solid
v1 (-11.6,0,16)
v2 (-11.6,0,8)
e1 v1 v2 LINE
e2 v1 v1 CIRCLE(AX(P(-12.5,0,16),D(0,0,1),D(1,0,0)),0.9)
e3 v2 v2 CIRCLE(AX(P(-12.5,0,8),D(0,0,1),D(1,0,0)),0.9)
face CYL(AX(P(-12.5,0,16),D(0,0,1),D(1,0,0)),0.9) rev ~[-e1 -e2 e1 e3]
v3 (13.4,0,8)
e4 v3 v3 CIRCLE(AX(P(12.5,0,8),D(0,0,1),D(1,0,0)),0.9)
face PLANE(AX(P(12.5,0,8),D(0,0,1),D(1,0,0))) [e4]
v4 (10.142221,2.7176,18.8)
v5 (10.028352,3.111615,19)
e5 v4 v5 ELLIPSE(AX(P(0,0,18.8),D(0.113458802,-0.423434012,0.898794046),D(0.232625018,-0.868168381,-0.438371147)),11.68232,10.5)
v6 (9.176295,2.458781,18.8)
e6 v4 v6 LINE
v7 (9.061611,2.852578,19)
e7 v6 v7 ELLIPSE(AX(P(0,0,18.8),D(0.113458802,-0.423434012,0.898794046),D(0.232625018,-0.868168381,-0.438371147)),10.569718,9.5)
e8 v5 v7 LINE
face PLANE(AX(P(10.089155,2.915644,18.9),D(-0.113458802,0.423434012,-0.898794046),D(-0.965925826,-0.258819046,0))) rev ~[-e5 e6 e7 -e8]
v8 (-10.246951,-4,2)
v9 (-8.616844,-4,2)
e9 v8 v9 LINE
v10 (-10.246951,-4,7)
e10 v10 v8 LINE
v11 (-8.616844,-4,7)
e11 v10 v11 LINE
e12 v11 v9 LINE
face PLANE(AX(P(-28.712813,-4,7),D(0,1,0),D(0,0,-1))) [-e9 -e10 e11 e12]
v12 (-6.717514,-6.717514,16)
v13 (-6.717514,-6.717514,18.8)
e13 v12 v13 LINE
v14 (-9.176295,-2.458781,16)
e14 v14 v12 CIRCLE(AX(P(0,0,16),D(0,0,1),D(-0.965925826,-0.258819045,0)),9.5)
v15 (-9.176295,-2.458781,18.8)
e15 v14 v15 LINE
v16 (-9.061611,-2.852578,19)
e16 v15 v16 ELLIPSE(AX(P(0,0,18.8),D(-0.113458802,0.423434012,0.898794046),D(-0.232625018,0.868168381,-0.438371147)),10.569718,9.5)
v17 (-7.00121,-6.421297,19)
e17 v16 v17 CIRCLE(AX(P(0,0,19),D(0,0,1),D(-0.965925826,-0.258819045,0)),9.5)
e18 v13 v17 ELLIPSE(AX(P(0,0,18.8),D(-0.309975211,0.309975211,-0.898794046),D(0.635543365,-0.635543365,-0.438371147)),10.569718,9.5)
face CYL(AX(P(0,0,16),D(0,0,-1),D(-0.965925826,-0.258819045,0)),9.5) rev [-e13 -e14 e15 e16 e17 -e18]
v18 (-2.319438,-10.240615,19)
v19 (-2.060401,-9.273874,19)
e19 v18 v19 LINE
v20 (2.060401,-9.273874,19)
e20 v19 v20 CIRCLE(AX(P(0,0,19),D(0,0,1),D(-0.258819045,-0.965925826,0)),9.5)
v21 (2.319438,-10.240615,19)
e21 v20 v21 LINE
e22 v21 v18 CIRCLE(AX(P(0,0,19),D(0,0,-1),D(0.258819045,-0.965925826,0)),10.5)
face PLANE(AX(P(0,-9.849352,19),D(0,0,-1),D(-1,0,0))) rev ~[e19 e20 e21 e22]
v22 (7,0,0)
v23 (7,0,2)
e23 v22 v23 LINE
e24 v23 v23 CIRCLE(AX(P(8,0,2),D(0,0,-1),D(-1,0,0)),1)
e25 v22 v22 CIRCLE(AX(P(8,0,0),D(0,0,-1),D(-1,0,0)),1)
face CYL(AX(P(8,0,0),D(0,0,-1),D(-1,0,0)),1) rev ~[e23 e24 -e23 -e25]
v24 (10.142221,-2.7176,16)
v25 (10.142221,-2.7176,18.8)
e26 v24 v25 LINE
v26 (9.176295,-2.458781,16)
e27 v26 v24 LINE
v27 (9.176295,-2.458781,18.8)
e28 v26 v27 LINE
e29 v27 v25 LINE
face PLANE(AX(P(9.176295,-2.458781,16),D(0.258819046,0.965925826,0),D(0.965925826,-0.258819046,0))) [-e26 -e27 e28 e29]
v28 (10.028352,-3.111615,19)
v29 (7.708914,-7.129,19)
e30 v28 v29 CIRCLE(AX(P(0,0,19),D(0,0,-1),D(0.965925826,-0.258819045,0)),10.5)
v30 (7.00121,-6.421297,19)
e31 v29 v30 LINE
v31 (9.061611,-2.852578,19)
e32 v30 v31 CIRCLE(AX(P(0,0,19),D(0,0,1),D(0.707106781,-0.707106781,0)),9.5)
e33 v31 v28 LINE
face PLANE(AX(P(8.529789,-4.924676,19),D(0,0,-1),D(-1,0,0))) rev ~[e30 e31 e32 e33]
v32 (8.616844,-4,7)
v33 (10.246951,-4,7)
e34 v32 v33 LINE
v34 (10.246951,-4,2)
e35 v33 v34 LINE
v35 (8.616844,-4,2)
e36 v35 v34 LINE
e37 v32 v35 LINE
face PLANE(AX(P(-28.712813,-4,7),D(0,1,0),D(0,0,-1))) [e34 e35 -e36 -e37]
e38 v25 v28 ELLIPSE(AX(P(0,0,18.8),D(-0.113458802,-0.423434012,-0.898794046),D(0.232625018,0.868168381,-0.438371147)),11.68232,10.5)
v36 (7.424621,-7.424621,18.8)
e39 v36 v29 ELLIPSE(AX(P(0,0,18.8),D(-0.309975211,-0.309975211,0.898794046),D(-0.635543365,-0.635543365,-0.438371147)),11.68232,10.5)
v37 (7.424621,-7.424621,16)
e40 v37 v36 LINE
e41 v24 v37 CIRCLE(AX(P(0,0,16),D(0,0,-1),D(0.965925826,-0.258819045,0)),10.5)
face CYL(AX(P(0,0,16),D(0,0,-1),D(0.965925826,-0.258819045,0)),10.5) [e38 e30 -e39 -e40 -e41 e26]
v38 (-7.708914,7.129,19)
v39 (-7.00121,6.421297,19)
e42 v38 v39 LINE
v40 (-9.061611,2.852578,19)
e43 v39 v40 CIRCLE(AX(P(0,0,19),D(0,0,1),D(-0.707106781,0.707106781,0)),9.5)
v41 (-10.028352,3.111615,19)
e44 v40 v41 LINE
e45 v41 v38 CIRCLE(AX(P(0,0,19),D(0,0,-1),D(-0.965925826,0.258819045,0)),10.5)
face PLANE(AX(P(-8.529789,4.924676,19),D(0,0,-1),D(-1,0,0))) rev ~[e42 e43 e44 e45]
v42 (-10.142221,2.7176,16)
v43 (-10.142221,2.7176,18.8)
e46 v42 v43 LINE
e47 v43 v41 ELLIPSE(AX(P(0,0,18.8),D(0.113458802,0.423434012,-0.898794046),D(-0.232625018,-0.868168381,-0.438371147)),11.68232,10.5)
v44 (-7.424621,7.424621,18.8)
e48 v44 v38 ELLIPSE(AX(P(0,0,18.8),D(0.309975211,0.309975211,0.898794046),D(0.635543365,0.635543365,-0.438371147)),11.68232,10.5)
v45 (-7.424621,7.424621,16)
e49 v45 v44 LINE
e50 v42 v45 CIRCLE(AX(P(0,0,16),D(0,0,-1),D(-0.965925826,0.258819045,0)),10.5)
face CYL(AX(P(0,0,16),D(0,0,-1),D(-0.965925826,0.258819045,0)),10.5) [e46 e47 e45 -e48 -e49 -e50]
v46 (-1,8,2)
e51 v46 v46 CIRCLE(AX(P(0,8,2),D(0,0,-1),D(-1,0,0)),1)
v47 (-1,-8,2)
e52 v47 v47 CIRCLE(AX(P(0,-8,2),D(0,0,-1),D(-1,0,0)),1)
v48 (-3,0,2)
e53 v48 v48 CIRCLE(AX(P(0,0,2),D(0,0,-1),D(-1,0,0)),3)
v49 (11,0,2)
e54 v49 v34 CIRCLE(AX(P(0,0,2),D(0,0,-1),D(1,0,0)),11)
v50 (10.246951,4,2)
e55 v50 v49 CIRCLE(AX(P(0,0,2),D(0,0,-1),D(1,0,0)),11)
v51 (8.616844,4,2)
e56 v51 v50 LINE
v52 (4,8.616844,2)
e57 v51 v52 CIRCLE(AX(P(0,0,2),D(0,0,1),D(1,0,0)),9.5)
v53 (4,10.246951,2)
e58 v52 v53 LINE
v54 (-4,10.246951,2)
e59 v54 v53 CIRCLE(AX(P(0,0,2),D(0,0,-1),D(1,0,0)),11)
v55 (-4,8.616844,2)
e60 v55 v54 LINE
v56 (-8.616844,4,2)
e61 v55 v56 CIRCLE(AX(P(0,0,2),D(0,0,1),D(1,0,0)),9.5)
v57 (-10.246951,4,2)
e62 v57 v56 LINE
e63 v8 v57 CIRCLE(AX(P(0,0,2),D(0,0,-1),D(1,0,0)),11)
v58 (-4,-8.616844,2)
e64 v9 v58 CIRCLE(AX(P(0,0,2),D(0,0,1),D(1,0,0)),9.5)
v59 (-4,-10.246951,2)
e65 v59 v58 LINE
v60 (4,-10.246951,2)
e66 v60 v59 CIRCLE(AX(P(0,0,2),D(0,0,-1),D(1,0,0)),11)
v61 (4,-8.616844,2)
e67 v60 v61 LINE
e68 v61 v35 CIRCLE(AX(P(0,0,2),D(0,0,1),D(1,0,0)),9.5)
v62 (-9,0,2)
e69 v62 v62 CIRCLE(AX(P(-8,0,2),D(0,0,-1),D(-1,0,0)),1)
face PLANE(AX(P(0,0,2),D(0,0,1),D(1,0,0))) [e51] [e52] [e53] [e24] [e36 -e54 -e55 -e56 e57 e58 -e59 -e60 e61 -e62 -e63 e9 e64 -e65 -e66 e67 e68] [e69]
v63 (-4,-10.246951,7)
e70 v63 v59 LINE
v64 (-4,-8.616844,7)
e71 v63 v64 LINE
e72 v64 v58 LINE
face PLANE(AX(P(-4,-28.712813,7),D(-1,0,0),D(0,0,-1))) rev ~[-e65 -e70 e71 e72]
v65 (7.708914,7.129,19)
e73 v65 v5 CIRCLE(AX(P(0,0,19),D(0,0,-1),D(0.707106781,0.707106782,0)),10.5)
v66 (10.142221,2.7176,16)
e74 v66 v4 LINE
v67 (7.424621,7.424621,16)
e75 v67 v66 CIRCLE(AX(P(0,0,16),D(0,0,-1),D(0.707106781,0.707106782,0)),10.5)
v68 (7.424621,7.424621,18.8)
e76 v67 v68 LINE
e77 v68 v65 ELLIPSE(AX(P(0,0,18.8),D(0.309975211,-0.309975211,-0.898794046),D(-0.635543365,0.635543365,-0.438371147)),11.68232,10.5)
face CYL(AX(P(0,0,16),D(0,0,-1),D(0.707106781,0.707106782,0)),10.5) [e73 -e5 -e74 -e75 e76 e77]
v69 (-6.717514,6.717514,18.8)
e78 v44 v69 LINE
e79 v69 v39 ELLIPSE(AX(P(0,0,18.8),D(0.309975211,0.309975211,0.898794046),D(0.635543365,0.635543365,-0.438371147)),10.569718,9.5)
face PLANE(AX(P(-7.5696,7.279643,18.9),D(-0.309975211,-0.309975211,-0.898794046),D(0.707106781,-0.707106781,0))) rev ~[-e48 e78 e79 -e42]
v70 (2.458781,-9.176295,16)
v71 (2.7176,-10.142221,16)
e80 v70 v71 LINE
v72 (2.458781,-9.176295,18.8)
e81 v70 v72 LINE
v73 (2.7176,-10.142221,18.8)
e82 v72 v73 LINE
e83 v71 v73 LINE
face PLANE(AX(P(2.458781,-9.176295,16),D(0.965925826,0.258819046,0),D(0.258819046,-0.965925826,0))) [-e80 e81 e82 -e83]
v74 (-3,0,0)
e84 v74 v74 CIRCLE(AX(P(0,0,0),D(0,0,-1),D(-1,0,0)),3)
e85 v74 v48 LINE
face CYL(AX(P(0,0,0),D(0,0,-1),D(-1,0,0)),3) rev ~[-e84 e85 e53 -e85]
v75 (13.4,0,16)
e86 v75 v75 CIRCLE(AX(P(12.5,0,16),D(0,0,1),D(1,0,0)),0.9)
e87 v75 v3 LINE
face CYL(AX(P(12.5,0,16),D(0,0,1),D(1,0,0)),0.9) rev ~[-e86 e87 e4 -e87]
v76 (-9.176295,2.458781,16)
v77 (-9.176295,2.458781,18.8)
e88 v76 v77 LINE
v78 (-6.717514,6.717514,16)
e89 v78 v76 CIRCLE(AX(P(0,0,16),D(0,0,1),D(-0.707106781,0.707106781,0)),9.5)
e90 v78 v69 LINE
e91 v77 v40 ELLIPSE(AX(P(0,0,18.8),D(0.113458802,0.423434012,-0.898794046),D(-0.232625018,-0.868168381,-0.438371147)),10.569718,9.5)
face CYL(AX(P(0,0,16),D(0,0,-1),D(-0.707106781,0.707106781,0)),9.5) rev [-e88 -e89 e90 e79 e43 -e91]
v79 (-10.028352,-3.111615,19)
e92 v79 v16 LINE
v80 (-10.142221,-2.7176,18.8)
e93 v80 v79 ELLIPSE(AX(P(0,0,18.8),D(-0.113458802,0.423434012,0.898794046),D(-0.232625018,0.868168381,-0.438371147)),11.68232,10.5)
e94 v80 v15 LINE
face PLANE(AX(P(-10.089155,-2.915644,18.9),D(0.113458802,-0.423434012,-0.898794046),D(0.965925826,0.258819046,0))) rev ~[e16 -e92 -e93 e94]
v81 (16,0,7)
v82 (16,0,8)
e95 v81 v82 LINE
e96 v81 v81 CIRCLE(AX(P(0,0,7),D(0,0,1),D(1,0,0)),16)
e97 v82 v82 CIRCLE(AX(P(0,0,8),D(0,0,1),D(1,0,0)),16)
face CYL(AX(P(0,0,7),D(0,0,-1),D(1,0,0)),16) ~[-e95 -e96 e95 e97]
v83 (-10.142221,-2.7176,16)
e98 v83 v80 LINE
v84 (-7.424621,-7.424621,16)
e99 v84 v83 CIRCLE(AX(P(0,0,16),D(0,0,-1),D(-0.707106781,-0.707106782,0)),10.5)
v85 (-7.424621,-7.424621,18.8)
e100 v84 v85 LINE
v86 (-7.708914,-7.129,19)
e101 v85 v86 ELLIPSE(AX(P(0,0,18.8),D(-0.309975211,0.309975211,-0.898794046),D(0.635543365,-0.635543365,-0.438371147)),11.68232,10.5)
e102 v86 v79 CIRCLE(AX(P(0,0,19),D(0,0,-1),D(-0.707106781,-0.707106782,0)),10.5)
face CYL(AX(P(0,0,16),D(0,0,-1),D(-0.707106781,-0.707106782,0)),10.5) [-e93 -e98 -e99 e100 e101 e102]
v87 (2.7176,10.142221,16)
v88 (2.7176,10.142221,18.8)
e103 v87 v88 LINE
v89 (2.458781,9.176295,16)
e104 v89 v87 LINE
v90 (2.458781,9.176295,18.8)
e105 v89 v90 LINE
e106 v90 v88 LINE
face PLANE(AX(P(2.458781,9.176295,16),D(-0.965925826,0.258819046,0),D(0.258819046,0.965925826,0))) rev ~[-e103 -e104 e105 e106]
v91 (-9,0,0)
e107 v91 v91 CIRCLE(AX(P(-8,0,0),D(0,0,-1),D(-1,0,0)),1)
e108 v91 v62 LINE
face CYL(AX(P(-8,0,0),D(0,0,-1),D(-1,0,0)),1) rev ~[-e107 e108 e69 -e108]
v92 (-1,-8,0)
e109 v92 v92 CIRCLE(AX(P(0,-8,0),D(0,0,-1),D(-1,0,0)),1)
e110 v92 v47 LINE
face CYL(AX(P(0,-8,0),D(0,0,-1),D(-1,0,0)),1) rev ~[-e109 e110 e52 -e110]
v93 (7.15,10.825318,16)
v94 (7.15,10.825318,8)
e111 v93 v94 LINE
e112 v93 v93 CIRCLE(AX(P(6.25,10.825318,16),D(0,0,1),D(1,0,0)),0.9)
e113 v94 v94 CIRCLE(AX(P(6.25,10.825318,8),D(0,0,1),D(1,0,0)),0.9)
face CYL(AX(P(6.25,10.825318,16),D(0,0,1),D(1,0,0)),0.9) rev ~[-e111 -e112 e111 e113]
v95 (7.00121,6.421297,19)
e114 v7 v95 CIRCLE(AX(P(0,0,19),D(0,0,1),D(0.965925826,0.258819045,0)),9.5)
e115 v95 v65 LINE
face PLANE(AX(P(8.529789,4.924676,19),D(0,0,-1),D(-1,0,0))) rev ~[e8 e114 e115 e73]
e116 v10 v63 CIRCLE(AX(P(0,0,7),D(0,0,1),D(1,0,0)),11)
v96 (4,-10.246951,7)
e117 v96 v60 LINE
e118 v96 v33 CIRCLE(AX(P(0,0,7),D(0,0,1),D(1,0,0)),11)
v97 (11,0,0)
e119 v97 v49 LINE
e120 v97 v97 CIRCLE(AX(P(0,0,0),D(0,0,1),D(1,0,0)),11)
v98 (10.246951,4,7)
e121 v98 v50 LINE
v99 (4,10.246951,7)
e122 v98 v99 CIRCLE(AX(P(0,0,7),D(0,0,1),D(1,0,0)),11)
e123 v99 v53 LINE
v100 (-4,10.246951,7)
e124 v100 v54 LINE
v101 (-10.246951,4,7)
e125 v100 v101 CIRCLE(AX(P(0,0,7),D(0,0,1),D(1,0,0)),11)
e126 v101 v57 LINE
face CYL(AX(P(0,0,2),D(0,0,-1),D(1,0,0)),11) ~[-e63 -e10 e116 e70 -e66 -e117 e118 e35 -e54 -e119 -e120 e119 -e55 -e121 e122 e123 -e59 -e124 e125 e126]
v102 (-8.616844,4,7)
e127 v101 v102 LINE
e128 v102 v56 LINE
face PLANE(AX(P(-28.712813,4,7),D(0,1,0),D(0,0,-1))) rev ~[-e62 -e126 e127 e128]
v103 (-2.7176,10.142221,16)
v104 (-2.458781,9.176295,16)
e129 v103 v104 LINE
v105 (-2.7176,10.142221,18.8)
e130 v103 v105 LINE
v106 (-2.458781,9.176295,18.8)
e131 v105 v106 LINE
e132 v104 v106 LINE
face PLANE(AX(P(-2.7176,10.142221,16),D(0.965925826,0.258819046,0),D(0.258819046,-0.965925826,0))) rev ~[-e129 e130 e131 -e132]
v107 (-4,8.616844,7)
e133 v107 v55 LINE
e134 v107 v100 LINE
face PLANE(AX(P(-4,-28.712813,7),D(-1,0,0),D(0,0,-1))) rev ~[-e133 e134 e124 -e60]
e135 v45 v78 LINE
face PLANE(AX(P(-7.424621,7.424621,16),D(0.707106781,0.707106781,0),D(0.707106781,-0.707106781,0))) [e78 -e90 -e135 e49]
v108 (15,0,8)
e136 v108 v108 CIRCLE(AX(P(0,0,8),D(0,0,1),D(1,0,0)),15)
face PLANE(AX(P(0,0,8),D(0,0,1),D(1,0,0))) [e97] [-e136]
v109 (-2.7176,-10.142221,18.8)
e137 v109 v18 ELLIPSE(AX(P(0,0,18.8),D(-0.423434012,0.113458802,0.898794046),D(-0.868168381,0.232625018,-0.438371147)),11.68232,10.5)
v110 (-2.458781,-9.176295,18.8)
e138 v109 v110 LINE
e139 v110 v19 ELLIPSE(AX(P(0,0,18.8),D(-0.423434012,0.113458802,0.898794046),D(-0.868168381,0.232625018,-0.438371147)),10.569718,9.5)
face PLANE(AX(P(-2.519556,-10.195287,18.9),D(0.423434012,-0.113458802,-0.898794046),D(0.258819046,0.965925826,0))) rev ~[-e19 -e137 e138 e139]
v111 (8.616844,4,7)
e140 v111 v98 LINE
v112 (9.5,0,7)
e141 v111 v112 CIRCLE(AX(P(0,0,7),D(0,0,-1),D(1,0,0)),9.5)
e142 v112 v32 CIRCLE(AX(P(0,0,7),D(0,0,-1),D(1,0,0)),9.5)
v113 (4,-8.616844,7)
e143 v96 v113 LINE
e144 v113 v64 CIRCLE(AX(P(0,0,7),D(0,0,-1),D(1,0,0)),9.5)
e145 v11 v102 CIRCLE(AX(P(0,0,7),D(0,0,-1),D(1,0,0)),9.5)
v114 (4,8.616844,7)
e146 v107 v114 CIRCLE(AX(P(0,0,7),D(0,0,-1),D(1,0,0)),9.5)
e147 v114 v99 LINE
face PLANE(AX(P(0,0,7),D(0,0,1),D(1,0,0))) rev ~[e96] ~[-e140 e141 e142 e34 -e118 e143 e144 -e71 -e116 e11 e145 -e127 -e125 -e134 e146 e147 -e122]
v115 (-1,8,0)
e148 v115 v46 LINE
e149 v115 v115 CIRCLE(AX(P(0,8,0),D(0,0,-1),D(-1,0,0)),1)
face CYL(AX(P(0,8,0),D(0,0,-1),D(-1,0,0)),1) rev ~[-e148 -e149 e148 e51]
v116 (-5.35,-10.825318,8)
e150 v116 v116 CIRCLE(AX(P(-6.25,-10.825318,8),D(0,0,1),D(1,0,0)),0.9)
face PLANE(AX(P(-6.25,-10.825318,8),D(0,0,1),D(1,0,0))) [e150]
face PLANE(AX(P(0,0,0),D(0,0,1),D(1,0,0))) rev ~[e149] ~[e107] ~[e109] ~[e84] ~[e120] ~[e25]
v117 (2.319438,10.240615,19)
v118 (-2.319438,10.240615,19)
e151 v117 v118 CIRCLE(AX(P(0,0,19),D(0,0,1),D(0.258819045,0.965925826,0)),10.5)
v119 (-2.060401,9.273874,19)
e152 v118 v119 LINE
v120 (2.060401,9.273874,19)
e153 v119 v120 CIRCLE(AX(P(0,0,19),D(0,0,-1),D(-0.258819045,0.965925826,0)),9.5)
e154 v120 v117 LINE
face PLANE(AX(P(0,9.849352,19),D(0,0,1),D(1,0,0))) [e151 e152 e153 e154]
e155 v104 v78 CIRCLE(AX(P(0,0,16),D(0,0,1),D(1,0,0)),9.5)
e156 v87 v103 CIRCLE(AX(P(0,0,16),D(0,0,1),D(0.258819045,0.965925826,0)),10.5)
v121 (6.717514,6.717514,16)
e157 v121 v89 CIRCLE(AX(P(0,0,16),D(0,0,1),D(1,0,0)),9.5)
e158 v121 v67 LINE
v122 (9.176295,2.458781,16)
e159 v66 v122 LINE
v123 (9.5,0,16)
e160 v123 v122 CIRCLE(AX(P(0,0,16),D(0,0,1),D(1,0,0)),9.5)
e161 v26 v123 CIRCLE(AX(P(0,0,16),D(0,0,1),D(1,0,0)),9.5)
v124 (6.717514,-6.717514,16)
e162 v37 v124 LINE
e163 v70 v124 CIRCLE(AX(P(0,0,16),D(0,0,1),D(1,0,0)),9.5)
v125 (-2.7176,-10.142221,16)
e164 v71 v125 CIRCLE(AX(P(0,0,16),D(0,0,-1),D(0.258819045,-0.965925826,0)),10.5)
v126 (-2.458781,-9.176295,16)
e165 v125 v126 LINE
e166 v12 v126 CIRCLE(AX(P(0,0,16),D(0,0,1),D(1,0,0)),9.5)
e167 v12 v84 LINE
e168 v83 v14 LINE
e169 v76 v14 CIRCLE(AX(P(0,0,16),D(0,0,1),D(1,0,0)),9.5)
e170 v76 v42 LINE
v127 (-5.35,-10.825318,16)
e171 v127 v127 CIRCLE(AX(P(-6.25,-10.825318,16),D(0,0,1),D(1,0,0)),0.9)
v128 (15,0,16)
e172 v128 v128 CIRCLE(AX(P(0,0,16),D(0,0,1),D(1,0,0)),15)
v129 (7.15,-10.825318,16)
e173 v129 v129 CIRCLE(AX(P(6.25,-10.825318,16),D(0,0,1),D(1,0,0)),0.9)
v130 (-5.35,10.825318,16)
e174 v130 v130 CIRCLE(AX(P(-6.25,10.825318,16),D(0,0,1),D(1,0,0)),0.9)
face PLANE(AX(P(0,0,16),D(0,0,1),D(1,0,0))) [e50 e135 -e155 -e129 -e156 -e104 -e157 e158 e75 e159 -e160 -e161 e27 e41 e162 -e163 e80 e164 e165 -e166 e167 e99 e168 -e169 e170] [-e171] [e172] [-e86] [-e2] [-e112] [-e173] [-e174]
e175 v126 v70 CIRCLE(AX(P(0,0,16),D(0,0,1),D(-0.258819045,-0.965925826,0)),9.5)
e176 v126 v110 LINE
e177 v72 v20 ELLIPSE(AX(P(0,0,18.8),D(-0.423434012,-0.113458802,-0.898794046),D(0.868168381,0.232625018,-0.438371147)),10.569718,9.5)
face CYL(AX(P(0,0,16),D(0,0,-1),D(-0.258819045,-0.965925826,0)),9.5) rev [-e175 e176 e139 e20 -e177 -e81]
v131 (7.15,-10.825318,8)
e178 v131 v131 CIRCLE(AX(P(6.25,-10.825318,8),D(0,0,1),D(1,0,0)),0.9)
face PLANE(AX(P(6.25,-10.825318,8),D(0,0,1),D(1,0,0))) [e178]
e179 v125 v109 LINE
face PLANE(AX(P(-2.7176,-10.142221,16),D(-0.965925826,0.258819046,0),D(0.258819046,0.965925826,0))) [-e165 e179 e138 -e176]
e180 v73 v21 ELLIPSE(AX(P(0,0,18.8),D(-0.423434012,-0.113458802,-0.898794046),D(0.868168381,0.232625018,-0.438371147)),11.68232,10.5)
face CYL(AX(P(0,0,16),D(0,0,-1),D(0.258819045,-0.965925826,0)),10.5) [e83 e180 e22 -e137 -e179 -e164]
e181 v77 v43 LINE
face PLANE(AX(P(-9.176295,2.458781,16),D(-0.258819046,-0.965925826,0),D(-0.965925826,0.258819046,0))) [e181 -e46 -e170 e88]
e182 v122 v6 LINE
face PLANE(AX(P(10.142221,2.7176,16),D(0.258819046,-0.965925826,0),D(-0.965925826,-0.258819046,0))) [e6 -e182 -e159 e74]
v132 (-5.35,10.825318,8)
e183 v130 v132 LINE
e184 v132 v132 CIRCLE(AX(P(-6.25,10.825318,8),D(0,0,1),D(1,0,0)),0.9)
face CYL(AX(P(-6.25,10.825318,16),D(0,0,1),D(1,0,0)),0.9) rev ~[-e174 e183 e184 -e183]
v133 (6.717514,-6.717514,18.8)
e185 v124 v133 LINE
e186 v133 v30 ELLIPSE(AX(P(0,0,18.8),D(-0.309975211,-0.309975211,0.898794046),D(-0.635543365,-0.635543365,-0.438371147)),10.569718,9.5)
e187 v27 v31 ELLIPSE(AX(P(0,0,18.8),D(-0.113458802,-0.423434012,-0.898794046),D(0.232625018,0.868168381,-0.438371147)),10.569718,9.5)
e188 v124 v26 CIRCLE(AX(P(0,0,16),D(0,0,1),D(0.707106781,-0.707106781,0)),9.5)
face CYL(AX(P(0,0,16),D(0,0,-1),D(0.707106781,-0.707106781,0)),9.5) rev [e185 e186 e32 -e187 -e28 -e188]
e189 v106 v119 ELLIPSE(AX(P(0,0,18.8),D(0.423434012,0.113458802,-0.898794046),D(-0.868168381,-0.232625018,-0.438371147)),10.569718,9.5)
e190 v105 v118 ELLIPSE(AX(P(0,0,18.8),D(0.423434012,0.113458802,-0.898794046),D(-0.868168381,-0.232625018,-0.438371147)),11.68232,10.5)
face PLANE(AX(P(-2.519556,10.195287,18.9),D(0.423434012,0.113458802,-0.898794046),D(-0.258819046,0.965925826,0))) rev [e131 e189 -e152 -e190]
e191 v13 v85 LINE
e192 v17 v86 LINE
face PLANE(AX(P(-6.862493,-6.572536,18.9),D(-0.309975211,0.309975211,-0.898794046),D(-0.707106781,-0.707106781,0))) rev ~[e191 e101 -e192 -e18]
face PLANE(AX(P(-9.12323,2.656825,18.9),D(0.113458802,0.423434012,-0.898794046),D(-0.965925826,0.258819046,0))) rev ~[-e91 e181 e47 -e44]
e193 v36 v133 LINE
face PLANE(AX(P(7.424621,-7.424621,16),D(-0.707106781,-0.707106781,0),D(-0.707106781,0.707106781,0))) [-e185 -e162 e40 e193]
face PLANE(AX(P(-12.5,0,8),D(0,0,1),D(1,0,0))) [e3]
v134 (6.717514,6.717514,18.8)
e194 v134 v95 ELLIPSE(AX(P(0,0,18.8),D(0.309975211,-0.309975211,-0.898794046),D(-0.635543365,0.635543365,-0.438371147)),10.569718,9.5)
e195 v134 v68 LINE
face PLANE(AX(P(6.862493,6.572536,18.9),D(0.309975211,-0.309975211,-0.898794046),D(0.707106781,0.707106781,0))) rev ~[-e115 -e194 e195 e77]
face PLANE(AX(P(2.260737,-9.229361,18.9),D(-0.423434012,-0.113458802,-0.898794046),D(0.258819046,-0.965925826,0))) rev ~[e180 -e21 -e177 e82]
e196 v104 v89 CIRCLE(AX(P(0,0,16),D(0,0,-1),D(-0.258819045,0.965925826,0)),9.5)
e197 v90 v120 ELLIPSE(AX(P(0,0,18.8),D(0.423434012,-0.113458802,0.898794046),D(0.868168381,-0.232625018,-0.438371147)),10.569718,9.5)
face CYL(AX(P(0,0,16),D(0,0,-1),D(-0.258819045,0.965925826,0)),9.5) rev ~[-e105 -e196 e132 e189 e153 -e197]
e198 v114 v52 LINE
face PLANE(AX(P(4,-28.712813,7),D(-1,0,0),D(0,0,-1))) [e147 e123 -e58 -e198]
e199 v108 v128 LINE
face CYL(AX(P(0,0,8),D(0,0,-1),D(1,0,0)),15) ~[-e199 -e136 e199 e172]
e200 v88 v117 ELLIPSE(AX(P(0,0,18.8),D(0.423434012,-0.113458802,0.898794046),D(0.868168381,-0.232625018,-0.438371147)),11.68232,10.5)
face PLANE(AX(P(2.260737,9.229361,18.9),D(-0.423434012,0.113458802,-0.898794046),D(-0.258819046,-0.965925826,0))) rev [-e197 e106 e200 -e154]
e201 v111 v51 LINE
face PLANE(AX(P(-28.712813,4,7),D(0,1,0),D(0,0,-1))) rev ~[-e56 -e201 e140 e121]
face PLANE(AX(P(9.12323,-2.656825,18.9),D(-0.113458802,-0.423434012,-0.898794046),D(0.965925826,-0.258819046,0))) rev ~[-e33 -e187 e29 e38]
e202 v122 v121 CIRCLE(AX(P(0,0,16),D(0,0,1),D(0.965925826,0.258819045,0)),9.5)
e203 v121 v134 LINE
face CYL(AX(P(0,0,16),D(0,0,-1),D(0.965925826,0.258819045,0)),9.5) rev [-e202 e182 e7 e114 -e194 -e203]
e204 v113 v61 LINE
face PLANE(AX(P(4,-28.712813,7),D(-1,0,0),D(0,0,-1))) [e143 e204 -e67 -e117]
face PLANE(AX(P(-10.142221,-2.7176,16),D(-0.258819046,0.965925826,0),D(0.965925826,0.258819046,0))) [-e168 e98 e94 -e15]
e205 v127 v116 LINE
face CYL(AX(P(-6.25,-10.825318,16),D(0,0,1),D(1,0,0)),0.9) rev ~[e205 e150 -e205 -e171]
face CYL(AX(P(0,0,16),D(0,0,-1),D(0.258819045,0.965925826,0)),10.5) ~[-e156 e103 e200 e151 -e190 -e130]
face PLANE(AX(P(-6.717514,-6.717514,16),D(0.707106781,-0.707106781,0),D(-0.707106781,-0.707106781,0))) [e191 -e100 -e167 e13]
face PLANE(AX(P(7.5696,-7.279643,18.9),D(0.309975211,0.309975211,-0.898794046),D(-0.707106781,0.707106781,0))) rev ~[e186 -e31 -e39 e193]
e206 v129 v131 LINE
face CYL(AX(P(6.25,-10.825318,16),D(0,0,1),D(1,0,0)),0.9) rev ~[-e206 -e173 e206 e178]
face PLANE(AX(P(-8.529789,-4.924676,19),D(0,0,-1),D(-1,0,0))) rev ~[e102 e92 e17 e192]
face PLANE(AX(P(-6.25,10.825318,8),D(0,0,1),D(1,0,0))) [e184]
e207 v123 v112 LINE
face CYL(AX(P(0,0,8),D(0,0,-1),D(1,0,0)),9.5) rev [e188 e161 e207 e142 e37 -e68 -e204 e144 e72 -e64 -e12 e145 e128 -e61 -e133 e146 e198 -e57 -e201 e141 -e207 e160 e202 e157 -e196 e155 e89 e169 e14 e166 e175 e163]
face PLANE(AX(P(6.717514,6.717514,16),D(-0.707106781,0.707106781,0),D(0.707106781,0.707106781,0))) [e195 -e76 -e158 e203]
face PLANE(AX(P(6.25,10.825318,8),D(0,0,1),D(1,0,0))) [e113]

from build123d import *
from OCP.BRepFilletAPI import BRepFilletAPI_MakeChamfer

# Parameters (mm, degrees)
SKETCH_1_R               = 11
EXTRUDE_1_DEPTH          = 2
SKETCH_2_R               = 11
SKETCH_2_R_2             = 9.5
EXTRUDE_2_DEPTH          = 5
SKETCH_4_R               = 16
SKETCH_4_R_2             = 9.5
EXTRUDE_3_DEPTH          = 1
SKETCH_5_R               = 15
SKETCH_5_R_2             = 9.5
EXTRUDE_4_DEPTH          = 8
SKETCH_6_R               = 0.9
CUT_EXTRUDE_1_DEPTH      = 8
SKETCH_7_R               = 3
SKETCH_7_R_2             = 1
CUT_EXTRUDE_2_DEPTH      = 28.712812921
CUT_EXTRUDE_3_DEPTH      = 28.712812921
CUT_EXTRUDE_3_DEPTH_BACK = 28.712812921
SKETCH_8_W               = 8
SKETCH_8_H               = 5
CUT_EXTRUDE_4_DEPTH      = 28.712812921
CUT_EXTRUDE_4_DEPTH_BACK = 28.712812921
SKETCH_9_W               = 5
SKETCH_9_H               = 8
EXTRUDE_5_DEPTH          = 3
CHAMFER_1_SIZE           = 0.2
CHAMFER_1_SIZE2          = 0.410060768


with BuildPart() as part:
    # 스케치1 → 보스-돌출1 (new body)
    with BuildSketch(Plane.XY):
        Circle(SKETCH_1_R)
    extrude(amount=EXTRUDE_1_DEPTH)

    # 스케치2 → 보스-돌출2 (add)
    with BuildSketch(Plane.XY.offset(2)):
        Circle(SKETCH_2_R)
        Circle(SKETCH_2_R_2, mode=Mode.SUBTRACT)
    extrude(amount=EXTRUDE_2_DEPTH)

    # 스케치4 → 보스-돌출3 (add)
    with BuildSketch(Plane.XY.offset(7)):
        Circle(SKETCH_4_R)
        Circle(SKETCH_4_R_2, mode=Mode.SUBTRACT)
    extrude(amount=EXTRUDE_3_DEPTH)

    # 스케치5 → 보스-돌출4 (add)
    with BuildSketch(Plane.XY.offset(8)):
        Circle(SKETCH_5_R)
        Circle(SKETCH_5_R_2, mode=Mode.SUBTRACT)
    extrude(amount=EXTRUDE_4_DEPTH)

    # 스케치6 → 컷-돌출1 (cut)
    with BuildSketch(Plane.XY.offset(16)):
        with Locations((12.5, 0)):
            Circle(SKETCH_6_R)
        with Locations((6.25, -10.825317547)):
            Circle(SKETCH_6_R)
        with Locations((-6.25, -10.825317547)):
            Circle(SKETCH_6_R)
        with Locations((-12.5, 0)):
            Circle(SKETCH_6_R)
        with Locations((-6.25, 10.825317547)):
            Circle(SKETCH_6_R)
        with Locations((6.25, 10.825317547)):
            Circle(SKETCH_6_R)
    extrude(amount=-CUT_EXTRUDE_1_DEPTH, mode=Mode.SUBTRACT)

    # 스케치7 → 컷-돌출2 (cut, through all)
    with BuildSketch(Plane(origin=(0, 0, 0), x_dir=(-1, 0, 0), z_dir=(0, 0, -1))):
        Circle(SKETCH_7_R)
        with Locations((-8, 0)):
            Circle(SKETCH_7_R_2)
        with Locations((8, 0)):
            Circle(SKETCH_7_R_2)
        with Locations((0, 8)):
            Circle(SKETCH_7_R_2)
        with Locations((0, -8)):
            Circle(SKETCH_7_R_2)
    extrude(amount=-CUT_EXTRUDE_2_DEPTH, mode=Mode.SUBTRACT)

    # 스케치8 → 컷-돌출3 (cut, two sides: drawn at the far end of the back side and taken through both)
    with BuildSketch(Plane(origin=(0, 0, 0), x_dir=(1, 0, 0), z_dir=(0, 1, 0)).offset(-CUT_EXTRUDE_3_DEPTH_BACK)):
        with Locations((0, -4.5)):
            Rectangle(SKETCH_8_W, SKETCH_8_H)
    extrude(amount=CUT_EXTRUDE_3_DEPTH + CUT_EXTRUDE_3_DEPTH_BACK, mode=Mode.SUBTRACT)

    # 스케치9 → 컷-돌출4 (cut, two sides: drawn at the far end of the back side and taken through both)
    with BuildSketch(Plane(origin=(0, 0, 0), x_dir=(0, 0, -1), z_dir=(1, 0, 0)).offset(-CUT_EXTRUDE_4_DEPTH_BACK)):
        with Locations((-4.5, 0)):
            Rectangle(SKETCH_9_W, SKETCH_9_H)
    extrude(amount=CUT_EXTRUDE_4_DEPTH + CUT_EXTRUDE_4_DEPTH_BACK, mode=Mode.SUBTRACT)

    # 스케치10 → 보스-돌출5 (add)
    with BuildSketch(Plane.XY.offset(16)):
        with BuildLine():
            Line((2.458780928, 9.17629535), (2.717599974, 10.142221176))
            ThreePointArc((2.717599974, 10.142221176), (0, 10.5), (-2.717599974, 10.142221176))
            Line((-2.717599974, 10.142221176), (-2.458780928, 9.17629535))
            ThreePointArc((-2.458780928, 9.17629535), (0, 9.5), (2.458780928, 9.17629535))
        make_face()
        with BuildLine():
            Line((6.717514421, 6.717514421), (7.424621202, 7.424621202))
            ThreePointArc((7.424621202, 7.424621202), (9.09326674, 5.25), (10.142221176, 2.717599974))
            Line((10.142221176, 2.717599974), (9.17629535, 2.458780928))
            ThreePointArc((9.17629535, 2.458780928), (8.227241336, 4.75), (6.717514421, 6.717514421))
        make_face()
        with BuildLine():
            Line((9.17629535, -2.458780928), (10.142221176, -2.717599974))
            ThreePointArc((10.142221176, -2.717599974), (9.09326674, -5.25), (7.424621202, -7.424621202))
            Line((7.424621202, -7.424621202), (6.717514421, -6.717514421))
            ThreePointArc((6.717514421, -6.717514421), (8.227241336, -4.75), (9.17629535, -2.458780928))
        make_face()
        with BuildLine():
            Line((2.458780928, -9.17629535), (2.717599974, -10.142221176))
            ThreePointArc((2.717599974, -10.142221176), (0, -10.5), (-2.717599974, -10.142221176))
            Line((-2.717599974, -10.142221176), (-2.458780928, -9.17629535))
            ThreePointArc((-2.458780928, -9.17629535), (0, -9.5), (2.458780928, -9.17629535))
        make_face()
        with BuildLine():
            Line((-6.717514421, -6.717514421), (-7.424621202, -7.424621202))
            ThreePointArc((-7.424621202, -7.424621202), (-9.09326674, -5.25), (-10.142221176, -2.717599974))
            Line((-10.142221176, -2.717599974), (-9.17629535, -2.458780928))
            ThreePointArc((-9.17629535, -2.458780928), (-8.227241336, -4.75), (-6.717514421, -6.717514421))
        make_face()
        with BuildLine():
            Line((-9.17629535, 2.458780928), (-10.142221176, 2.717599974))
            ThreePointArc((-10.142221176, 2.717599974), (-9.09326674, 5.25), (-7.424621202, 7.424621202))
            Line((-7.424621202, 7.424621202), (-6.717514421, 6.717514421))
            ThreePointArc((-6.717514421, 6.717514421), (-8.227241336, 4.75), (-9.17629535, 2.458780928))
        make_face()
    extrude(amount=EXTRUDE_5_DEPTH)

    # 모따기1: one chamfer whose edges measure the first distance from different faces: ONE call of the kernel's chamfer builder (chamfer() names one face for all edges)
    chamfer_1_edges_1 = [part.edges().sort_by_distance(p)[0] for p in [
        (-7.071067812, 7.071067812, 19),
    ]]
    chamfer_1_side_1 = [part.faces().sort_by_distance(p)[0] for p in [
        (-7.071067812, 7.071067812, 17.5),
    ]]
    chamfer_1_edges_2 = [part.edges().sort_by_distance(p)[0] for p in [
        (-9.659258263, 2.588190451, 19),
    ]]
    chamfer_1_side_2 = [part.faces().sort_by_distance(p)[0] for p in [
        (-9.659258263, 2.588190451, 17.5),
    ]]
    chamfer_1_edges_3 = [part.edges().sort_by_distance(p)[0] for p in [
        (-9.659258263, -2.588190451, 19),
    ]]
    chamfer_1_side_3 = [part.faces().sort_by_distance(p)[0] for p in [
        (-9.659258263, -2.588190451, 17.5),
    ]]
    chamfer_1_edges_4 = [part.edges().sort_by_distance(p)[0] for p in [
        (-7.071067812, -7.071067812, 19),
    ]]
    chamfer_1_side_4 = [part.faces().sort_by_distance(p)[0] for p in [
        (-7.071067812, -7.071067812, 17.5),
    ]]
    chamfer_1_edges_5 = [part.edges().sort_by_distance(p)[0] for p in [
        (-2.588190451, 9.659258263, 19),
    ]]
    chamfer_1_side_5 = [part.faces().sort_by_distance(p)[0] for p in [
        (-2.588190451, 9.659258263, 17.5),
    ]]
    chamfer_1_edges_6 = [part.edges().sort_by_distance(p)[0] for p in [
        (2.588190451, 9.659258263, 19),
    ]]
    chamfer_1_side_6 = [part.faces().sort_by_distance(p)[0] for p in [
        (2.588190451, 9.659258263, 17.5),
    ]]
    chamfer_1_edges_7 = [part.edges().sort_by_distance(p)[0] for p in [
        (-2.588190451, -9.659258263, 19),
    ]]
    chamfer_1_side_7 = [part.faces().sort_by_distance(p)[0] for p in [
        (-2.588190451, -9.659258263, 17.5),
    ]]
    chamfer_1_edges_8 = [part.edges().sort_by_distance(p)[0] for p in [
        (2.588190451, -9.659258263, 19),
    ]]
    chamfer_1_side_8 = [part.faces().sort_by_distance(p)[0] for p in [
        (2.588190451, -9.659258263, 17.5),
    ]]
    chamfer_1_edges_9 = [part.edges().sort_by_distance(p)[0] for p in [
        (7.071067812, 7.071067812, 19),
    ]]
    chamfer_1_side_9 = [part.faces().sort_by_distance(p)[0] for p in [
        (7.071067812, 7.071067812, 17.5),
    ]]
    chamfer_1_edges_10 = [part.edges().sort_by_distance(p)[0] for p in [
        (9.659258263, 2.588190451, 19),
    ]]
    chamfer_1_side_10 = [part.faces().sort_by_distance(p)[0] for p in [
        (9.659258263, 2.588190451, 17.5),
    ]]
    chamfer_1_edges_11 = [part.edges().sort_by_distance(p)[0] for p in [
        (7.071067812, -7.071067812, 19),
    ]]
    chamfer_1_side_11 = [part.faces().sort_by_distance(p)[0] for p in [
        (7.071067812, -7.071067812, 17.5),
    ]]
    chamfer_1_edges_12 = [part.edges().sort_by_distance(p)[0] for p in [
        (9.659258263, -2.588190451, 19),
    ]]
    chamfer_1_side_12 = [part.faces().sort_by_distance(p)[0] for p in [
        (9.659258263, -2.588190451, 17.5),
    ]]
    chamfer_1 = BRepFilletAPI_MakeChamfer(part.part.solid().wrapped)
    for e in chamfer_1_edges_1:
        chamfer_1.Add(CHAMFER_1_SIZE, CHAMFER_1_SIZE2, e.wrapped, chamfer_1_side_1[0].wrapped)  # the first distance lies on this face
    for e in chamfer_1_edges_2:
        chamfer_1.Add(CHAMFER_1_SIZE, CHAMFER_1_SIZE2, e.wrapped, chamfer_1_side_2[0].wrapped)  # the first distance lies on this face
    for e in chamfer_1_edges_3:
        chamfer_1.Add(CHAMFER_1_SIZE, CHAMFER_1_SIZE2, e.wrapped, chamfer_1_side_3[0].wrapped)  # the first distance lies on this face
    for e in chamfer_1_edges_4:
        chamfer_1.Add(CHAMFER_1_SIZE, CHAMFER_1_SIZE2, e.wrapped, chamfer_1_side_4[0].wrapped)  # the first distance lies on this face
    for e in chamfer_1_edges_5:
        chamfer_1.Add(CHAMFER_1_SIZE, CHAMFER_1_SIZE2, e.wrapped, chamfer_1_side_5[0].wrapped)  # the first distance lies on this face
    for e in chamfer_1_edges_6:
        chamfer_1.Add(CHAMFER_1_SIZE, CHAMFER_1_SIZE2, e.wrapped, chamfer_1_side_6[0].wrapped)  # the first distance lies on this face
    for e in chamfer_1_edges_7:
        chamfer_1.Add(CHAMFER_1_SIZE, CHAMFER_1_SIZE2, e.wrapped, chamfer_1_side_7[0].wrapped)  # the first distance lies on this face
    for e in chamfer_1_edges_8:
        chamfer_1.Add(CHAMFER_1_SIZE, CHAMFER_1_SIZE2, e.wrapped, chamfer_1_side_8[0].wrapped)  # the first distance lies on this face
    for e in chamfer_1_edges_9:
        chamfer_1.Add(CHAMFER_1_SIZE, CHAMFER_1_SIZE2, e.wrapped, chamfer_1_side_9[0].wrapped)  # the first distance lies on this face
    for e in chamfer_1_edges_10:
        chamfer_1.Add(CHAMFER_1_SIZE, CHAMFER_1_SIZE2, e.wrapped, chamfer_1_side_10[0].wrapped)  # the first distance lies on this face
    for e in chamfer_1_edges_11:
        chamfer_1.Add(CHAMFER_1_SIZE, CHAMFER_1_SIZE2, e.wrapped, chamfer_1_side_11[0].wrapped)  # the first distance lies on this face
    for e in chamfer_1_edges_12:
        chamfer_1.Add(CHAMFER_1_SIZE, CHAMFER_1_SIZE2, e.wrapped, chamfer_1_side_12[0].wrapped)  # the first distance lies on this face
    add(Compound.cast(chamfer_1.Shape()), mode=Mode.REPLACE)


solid = part.part
